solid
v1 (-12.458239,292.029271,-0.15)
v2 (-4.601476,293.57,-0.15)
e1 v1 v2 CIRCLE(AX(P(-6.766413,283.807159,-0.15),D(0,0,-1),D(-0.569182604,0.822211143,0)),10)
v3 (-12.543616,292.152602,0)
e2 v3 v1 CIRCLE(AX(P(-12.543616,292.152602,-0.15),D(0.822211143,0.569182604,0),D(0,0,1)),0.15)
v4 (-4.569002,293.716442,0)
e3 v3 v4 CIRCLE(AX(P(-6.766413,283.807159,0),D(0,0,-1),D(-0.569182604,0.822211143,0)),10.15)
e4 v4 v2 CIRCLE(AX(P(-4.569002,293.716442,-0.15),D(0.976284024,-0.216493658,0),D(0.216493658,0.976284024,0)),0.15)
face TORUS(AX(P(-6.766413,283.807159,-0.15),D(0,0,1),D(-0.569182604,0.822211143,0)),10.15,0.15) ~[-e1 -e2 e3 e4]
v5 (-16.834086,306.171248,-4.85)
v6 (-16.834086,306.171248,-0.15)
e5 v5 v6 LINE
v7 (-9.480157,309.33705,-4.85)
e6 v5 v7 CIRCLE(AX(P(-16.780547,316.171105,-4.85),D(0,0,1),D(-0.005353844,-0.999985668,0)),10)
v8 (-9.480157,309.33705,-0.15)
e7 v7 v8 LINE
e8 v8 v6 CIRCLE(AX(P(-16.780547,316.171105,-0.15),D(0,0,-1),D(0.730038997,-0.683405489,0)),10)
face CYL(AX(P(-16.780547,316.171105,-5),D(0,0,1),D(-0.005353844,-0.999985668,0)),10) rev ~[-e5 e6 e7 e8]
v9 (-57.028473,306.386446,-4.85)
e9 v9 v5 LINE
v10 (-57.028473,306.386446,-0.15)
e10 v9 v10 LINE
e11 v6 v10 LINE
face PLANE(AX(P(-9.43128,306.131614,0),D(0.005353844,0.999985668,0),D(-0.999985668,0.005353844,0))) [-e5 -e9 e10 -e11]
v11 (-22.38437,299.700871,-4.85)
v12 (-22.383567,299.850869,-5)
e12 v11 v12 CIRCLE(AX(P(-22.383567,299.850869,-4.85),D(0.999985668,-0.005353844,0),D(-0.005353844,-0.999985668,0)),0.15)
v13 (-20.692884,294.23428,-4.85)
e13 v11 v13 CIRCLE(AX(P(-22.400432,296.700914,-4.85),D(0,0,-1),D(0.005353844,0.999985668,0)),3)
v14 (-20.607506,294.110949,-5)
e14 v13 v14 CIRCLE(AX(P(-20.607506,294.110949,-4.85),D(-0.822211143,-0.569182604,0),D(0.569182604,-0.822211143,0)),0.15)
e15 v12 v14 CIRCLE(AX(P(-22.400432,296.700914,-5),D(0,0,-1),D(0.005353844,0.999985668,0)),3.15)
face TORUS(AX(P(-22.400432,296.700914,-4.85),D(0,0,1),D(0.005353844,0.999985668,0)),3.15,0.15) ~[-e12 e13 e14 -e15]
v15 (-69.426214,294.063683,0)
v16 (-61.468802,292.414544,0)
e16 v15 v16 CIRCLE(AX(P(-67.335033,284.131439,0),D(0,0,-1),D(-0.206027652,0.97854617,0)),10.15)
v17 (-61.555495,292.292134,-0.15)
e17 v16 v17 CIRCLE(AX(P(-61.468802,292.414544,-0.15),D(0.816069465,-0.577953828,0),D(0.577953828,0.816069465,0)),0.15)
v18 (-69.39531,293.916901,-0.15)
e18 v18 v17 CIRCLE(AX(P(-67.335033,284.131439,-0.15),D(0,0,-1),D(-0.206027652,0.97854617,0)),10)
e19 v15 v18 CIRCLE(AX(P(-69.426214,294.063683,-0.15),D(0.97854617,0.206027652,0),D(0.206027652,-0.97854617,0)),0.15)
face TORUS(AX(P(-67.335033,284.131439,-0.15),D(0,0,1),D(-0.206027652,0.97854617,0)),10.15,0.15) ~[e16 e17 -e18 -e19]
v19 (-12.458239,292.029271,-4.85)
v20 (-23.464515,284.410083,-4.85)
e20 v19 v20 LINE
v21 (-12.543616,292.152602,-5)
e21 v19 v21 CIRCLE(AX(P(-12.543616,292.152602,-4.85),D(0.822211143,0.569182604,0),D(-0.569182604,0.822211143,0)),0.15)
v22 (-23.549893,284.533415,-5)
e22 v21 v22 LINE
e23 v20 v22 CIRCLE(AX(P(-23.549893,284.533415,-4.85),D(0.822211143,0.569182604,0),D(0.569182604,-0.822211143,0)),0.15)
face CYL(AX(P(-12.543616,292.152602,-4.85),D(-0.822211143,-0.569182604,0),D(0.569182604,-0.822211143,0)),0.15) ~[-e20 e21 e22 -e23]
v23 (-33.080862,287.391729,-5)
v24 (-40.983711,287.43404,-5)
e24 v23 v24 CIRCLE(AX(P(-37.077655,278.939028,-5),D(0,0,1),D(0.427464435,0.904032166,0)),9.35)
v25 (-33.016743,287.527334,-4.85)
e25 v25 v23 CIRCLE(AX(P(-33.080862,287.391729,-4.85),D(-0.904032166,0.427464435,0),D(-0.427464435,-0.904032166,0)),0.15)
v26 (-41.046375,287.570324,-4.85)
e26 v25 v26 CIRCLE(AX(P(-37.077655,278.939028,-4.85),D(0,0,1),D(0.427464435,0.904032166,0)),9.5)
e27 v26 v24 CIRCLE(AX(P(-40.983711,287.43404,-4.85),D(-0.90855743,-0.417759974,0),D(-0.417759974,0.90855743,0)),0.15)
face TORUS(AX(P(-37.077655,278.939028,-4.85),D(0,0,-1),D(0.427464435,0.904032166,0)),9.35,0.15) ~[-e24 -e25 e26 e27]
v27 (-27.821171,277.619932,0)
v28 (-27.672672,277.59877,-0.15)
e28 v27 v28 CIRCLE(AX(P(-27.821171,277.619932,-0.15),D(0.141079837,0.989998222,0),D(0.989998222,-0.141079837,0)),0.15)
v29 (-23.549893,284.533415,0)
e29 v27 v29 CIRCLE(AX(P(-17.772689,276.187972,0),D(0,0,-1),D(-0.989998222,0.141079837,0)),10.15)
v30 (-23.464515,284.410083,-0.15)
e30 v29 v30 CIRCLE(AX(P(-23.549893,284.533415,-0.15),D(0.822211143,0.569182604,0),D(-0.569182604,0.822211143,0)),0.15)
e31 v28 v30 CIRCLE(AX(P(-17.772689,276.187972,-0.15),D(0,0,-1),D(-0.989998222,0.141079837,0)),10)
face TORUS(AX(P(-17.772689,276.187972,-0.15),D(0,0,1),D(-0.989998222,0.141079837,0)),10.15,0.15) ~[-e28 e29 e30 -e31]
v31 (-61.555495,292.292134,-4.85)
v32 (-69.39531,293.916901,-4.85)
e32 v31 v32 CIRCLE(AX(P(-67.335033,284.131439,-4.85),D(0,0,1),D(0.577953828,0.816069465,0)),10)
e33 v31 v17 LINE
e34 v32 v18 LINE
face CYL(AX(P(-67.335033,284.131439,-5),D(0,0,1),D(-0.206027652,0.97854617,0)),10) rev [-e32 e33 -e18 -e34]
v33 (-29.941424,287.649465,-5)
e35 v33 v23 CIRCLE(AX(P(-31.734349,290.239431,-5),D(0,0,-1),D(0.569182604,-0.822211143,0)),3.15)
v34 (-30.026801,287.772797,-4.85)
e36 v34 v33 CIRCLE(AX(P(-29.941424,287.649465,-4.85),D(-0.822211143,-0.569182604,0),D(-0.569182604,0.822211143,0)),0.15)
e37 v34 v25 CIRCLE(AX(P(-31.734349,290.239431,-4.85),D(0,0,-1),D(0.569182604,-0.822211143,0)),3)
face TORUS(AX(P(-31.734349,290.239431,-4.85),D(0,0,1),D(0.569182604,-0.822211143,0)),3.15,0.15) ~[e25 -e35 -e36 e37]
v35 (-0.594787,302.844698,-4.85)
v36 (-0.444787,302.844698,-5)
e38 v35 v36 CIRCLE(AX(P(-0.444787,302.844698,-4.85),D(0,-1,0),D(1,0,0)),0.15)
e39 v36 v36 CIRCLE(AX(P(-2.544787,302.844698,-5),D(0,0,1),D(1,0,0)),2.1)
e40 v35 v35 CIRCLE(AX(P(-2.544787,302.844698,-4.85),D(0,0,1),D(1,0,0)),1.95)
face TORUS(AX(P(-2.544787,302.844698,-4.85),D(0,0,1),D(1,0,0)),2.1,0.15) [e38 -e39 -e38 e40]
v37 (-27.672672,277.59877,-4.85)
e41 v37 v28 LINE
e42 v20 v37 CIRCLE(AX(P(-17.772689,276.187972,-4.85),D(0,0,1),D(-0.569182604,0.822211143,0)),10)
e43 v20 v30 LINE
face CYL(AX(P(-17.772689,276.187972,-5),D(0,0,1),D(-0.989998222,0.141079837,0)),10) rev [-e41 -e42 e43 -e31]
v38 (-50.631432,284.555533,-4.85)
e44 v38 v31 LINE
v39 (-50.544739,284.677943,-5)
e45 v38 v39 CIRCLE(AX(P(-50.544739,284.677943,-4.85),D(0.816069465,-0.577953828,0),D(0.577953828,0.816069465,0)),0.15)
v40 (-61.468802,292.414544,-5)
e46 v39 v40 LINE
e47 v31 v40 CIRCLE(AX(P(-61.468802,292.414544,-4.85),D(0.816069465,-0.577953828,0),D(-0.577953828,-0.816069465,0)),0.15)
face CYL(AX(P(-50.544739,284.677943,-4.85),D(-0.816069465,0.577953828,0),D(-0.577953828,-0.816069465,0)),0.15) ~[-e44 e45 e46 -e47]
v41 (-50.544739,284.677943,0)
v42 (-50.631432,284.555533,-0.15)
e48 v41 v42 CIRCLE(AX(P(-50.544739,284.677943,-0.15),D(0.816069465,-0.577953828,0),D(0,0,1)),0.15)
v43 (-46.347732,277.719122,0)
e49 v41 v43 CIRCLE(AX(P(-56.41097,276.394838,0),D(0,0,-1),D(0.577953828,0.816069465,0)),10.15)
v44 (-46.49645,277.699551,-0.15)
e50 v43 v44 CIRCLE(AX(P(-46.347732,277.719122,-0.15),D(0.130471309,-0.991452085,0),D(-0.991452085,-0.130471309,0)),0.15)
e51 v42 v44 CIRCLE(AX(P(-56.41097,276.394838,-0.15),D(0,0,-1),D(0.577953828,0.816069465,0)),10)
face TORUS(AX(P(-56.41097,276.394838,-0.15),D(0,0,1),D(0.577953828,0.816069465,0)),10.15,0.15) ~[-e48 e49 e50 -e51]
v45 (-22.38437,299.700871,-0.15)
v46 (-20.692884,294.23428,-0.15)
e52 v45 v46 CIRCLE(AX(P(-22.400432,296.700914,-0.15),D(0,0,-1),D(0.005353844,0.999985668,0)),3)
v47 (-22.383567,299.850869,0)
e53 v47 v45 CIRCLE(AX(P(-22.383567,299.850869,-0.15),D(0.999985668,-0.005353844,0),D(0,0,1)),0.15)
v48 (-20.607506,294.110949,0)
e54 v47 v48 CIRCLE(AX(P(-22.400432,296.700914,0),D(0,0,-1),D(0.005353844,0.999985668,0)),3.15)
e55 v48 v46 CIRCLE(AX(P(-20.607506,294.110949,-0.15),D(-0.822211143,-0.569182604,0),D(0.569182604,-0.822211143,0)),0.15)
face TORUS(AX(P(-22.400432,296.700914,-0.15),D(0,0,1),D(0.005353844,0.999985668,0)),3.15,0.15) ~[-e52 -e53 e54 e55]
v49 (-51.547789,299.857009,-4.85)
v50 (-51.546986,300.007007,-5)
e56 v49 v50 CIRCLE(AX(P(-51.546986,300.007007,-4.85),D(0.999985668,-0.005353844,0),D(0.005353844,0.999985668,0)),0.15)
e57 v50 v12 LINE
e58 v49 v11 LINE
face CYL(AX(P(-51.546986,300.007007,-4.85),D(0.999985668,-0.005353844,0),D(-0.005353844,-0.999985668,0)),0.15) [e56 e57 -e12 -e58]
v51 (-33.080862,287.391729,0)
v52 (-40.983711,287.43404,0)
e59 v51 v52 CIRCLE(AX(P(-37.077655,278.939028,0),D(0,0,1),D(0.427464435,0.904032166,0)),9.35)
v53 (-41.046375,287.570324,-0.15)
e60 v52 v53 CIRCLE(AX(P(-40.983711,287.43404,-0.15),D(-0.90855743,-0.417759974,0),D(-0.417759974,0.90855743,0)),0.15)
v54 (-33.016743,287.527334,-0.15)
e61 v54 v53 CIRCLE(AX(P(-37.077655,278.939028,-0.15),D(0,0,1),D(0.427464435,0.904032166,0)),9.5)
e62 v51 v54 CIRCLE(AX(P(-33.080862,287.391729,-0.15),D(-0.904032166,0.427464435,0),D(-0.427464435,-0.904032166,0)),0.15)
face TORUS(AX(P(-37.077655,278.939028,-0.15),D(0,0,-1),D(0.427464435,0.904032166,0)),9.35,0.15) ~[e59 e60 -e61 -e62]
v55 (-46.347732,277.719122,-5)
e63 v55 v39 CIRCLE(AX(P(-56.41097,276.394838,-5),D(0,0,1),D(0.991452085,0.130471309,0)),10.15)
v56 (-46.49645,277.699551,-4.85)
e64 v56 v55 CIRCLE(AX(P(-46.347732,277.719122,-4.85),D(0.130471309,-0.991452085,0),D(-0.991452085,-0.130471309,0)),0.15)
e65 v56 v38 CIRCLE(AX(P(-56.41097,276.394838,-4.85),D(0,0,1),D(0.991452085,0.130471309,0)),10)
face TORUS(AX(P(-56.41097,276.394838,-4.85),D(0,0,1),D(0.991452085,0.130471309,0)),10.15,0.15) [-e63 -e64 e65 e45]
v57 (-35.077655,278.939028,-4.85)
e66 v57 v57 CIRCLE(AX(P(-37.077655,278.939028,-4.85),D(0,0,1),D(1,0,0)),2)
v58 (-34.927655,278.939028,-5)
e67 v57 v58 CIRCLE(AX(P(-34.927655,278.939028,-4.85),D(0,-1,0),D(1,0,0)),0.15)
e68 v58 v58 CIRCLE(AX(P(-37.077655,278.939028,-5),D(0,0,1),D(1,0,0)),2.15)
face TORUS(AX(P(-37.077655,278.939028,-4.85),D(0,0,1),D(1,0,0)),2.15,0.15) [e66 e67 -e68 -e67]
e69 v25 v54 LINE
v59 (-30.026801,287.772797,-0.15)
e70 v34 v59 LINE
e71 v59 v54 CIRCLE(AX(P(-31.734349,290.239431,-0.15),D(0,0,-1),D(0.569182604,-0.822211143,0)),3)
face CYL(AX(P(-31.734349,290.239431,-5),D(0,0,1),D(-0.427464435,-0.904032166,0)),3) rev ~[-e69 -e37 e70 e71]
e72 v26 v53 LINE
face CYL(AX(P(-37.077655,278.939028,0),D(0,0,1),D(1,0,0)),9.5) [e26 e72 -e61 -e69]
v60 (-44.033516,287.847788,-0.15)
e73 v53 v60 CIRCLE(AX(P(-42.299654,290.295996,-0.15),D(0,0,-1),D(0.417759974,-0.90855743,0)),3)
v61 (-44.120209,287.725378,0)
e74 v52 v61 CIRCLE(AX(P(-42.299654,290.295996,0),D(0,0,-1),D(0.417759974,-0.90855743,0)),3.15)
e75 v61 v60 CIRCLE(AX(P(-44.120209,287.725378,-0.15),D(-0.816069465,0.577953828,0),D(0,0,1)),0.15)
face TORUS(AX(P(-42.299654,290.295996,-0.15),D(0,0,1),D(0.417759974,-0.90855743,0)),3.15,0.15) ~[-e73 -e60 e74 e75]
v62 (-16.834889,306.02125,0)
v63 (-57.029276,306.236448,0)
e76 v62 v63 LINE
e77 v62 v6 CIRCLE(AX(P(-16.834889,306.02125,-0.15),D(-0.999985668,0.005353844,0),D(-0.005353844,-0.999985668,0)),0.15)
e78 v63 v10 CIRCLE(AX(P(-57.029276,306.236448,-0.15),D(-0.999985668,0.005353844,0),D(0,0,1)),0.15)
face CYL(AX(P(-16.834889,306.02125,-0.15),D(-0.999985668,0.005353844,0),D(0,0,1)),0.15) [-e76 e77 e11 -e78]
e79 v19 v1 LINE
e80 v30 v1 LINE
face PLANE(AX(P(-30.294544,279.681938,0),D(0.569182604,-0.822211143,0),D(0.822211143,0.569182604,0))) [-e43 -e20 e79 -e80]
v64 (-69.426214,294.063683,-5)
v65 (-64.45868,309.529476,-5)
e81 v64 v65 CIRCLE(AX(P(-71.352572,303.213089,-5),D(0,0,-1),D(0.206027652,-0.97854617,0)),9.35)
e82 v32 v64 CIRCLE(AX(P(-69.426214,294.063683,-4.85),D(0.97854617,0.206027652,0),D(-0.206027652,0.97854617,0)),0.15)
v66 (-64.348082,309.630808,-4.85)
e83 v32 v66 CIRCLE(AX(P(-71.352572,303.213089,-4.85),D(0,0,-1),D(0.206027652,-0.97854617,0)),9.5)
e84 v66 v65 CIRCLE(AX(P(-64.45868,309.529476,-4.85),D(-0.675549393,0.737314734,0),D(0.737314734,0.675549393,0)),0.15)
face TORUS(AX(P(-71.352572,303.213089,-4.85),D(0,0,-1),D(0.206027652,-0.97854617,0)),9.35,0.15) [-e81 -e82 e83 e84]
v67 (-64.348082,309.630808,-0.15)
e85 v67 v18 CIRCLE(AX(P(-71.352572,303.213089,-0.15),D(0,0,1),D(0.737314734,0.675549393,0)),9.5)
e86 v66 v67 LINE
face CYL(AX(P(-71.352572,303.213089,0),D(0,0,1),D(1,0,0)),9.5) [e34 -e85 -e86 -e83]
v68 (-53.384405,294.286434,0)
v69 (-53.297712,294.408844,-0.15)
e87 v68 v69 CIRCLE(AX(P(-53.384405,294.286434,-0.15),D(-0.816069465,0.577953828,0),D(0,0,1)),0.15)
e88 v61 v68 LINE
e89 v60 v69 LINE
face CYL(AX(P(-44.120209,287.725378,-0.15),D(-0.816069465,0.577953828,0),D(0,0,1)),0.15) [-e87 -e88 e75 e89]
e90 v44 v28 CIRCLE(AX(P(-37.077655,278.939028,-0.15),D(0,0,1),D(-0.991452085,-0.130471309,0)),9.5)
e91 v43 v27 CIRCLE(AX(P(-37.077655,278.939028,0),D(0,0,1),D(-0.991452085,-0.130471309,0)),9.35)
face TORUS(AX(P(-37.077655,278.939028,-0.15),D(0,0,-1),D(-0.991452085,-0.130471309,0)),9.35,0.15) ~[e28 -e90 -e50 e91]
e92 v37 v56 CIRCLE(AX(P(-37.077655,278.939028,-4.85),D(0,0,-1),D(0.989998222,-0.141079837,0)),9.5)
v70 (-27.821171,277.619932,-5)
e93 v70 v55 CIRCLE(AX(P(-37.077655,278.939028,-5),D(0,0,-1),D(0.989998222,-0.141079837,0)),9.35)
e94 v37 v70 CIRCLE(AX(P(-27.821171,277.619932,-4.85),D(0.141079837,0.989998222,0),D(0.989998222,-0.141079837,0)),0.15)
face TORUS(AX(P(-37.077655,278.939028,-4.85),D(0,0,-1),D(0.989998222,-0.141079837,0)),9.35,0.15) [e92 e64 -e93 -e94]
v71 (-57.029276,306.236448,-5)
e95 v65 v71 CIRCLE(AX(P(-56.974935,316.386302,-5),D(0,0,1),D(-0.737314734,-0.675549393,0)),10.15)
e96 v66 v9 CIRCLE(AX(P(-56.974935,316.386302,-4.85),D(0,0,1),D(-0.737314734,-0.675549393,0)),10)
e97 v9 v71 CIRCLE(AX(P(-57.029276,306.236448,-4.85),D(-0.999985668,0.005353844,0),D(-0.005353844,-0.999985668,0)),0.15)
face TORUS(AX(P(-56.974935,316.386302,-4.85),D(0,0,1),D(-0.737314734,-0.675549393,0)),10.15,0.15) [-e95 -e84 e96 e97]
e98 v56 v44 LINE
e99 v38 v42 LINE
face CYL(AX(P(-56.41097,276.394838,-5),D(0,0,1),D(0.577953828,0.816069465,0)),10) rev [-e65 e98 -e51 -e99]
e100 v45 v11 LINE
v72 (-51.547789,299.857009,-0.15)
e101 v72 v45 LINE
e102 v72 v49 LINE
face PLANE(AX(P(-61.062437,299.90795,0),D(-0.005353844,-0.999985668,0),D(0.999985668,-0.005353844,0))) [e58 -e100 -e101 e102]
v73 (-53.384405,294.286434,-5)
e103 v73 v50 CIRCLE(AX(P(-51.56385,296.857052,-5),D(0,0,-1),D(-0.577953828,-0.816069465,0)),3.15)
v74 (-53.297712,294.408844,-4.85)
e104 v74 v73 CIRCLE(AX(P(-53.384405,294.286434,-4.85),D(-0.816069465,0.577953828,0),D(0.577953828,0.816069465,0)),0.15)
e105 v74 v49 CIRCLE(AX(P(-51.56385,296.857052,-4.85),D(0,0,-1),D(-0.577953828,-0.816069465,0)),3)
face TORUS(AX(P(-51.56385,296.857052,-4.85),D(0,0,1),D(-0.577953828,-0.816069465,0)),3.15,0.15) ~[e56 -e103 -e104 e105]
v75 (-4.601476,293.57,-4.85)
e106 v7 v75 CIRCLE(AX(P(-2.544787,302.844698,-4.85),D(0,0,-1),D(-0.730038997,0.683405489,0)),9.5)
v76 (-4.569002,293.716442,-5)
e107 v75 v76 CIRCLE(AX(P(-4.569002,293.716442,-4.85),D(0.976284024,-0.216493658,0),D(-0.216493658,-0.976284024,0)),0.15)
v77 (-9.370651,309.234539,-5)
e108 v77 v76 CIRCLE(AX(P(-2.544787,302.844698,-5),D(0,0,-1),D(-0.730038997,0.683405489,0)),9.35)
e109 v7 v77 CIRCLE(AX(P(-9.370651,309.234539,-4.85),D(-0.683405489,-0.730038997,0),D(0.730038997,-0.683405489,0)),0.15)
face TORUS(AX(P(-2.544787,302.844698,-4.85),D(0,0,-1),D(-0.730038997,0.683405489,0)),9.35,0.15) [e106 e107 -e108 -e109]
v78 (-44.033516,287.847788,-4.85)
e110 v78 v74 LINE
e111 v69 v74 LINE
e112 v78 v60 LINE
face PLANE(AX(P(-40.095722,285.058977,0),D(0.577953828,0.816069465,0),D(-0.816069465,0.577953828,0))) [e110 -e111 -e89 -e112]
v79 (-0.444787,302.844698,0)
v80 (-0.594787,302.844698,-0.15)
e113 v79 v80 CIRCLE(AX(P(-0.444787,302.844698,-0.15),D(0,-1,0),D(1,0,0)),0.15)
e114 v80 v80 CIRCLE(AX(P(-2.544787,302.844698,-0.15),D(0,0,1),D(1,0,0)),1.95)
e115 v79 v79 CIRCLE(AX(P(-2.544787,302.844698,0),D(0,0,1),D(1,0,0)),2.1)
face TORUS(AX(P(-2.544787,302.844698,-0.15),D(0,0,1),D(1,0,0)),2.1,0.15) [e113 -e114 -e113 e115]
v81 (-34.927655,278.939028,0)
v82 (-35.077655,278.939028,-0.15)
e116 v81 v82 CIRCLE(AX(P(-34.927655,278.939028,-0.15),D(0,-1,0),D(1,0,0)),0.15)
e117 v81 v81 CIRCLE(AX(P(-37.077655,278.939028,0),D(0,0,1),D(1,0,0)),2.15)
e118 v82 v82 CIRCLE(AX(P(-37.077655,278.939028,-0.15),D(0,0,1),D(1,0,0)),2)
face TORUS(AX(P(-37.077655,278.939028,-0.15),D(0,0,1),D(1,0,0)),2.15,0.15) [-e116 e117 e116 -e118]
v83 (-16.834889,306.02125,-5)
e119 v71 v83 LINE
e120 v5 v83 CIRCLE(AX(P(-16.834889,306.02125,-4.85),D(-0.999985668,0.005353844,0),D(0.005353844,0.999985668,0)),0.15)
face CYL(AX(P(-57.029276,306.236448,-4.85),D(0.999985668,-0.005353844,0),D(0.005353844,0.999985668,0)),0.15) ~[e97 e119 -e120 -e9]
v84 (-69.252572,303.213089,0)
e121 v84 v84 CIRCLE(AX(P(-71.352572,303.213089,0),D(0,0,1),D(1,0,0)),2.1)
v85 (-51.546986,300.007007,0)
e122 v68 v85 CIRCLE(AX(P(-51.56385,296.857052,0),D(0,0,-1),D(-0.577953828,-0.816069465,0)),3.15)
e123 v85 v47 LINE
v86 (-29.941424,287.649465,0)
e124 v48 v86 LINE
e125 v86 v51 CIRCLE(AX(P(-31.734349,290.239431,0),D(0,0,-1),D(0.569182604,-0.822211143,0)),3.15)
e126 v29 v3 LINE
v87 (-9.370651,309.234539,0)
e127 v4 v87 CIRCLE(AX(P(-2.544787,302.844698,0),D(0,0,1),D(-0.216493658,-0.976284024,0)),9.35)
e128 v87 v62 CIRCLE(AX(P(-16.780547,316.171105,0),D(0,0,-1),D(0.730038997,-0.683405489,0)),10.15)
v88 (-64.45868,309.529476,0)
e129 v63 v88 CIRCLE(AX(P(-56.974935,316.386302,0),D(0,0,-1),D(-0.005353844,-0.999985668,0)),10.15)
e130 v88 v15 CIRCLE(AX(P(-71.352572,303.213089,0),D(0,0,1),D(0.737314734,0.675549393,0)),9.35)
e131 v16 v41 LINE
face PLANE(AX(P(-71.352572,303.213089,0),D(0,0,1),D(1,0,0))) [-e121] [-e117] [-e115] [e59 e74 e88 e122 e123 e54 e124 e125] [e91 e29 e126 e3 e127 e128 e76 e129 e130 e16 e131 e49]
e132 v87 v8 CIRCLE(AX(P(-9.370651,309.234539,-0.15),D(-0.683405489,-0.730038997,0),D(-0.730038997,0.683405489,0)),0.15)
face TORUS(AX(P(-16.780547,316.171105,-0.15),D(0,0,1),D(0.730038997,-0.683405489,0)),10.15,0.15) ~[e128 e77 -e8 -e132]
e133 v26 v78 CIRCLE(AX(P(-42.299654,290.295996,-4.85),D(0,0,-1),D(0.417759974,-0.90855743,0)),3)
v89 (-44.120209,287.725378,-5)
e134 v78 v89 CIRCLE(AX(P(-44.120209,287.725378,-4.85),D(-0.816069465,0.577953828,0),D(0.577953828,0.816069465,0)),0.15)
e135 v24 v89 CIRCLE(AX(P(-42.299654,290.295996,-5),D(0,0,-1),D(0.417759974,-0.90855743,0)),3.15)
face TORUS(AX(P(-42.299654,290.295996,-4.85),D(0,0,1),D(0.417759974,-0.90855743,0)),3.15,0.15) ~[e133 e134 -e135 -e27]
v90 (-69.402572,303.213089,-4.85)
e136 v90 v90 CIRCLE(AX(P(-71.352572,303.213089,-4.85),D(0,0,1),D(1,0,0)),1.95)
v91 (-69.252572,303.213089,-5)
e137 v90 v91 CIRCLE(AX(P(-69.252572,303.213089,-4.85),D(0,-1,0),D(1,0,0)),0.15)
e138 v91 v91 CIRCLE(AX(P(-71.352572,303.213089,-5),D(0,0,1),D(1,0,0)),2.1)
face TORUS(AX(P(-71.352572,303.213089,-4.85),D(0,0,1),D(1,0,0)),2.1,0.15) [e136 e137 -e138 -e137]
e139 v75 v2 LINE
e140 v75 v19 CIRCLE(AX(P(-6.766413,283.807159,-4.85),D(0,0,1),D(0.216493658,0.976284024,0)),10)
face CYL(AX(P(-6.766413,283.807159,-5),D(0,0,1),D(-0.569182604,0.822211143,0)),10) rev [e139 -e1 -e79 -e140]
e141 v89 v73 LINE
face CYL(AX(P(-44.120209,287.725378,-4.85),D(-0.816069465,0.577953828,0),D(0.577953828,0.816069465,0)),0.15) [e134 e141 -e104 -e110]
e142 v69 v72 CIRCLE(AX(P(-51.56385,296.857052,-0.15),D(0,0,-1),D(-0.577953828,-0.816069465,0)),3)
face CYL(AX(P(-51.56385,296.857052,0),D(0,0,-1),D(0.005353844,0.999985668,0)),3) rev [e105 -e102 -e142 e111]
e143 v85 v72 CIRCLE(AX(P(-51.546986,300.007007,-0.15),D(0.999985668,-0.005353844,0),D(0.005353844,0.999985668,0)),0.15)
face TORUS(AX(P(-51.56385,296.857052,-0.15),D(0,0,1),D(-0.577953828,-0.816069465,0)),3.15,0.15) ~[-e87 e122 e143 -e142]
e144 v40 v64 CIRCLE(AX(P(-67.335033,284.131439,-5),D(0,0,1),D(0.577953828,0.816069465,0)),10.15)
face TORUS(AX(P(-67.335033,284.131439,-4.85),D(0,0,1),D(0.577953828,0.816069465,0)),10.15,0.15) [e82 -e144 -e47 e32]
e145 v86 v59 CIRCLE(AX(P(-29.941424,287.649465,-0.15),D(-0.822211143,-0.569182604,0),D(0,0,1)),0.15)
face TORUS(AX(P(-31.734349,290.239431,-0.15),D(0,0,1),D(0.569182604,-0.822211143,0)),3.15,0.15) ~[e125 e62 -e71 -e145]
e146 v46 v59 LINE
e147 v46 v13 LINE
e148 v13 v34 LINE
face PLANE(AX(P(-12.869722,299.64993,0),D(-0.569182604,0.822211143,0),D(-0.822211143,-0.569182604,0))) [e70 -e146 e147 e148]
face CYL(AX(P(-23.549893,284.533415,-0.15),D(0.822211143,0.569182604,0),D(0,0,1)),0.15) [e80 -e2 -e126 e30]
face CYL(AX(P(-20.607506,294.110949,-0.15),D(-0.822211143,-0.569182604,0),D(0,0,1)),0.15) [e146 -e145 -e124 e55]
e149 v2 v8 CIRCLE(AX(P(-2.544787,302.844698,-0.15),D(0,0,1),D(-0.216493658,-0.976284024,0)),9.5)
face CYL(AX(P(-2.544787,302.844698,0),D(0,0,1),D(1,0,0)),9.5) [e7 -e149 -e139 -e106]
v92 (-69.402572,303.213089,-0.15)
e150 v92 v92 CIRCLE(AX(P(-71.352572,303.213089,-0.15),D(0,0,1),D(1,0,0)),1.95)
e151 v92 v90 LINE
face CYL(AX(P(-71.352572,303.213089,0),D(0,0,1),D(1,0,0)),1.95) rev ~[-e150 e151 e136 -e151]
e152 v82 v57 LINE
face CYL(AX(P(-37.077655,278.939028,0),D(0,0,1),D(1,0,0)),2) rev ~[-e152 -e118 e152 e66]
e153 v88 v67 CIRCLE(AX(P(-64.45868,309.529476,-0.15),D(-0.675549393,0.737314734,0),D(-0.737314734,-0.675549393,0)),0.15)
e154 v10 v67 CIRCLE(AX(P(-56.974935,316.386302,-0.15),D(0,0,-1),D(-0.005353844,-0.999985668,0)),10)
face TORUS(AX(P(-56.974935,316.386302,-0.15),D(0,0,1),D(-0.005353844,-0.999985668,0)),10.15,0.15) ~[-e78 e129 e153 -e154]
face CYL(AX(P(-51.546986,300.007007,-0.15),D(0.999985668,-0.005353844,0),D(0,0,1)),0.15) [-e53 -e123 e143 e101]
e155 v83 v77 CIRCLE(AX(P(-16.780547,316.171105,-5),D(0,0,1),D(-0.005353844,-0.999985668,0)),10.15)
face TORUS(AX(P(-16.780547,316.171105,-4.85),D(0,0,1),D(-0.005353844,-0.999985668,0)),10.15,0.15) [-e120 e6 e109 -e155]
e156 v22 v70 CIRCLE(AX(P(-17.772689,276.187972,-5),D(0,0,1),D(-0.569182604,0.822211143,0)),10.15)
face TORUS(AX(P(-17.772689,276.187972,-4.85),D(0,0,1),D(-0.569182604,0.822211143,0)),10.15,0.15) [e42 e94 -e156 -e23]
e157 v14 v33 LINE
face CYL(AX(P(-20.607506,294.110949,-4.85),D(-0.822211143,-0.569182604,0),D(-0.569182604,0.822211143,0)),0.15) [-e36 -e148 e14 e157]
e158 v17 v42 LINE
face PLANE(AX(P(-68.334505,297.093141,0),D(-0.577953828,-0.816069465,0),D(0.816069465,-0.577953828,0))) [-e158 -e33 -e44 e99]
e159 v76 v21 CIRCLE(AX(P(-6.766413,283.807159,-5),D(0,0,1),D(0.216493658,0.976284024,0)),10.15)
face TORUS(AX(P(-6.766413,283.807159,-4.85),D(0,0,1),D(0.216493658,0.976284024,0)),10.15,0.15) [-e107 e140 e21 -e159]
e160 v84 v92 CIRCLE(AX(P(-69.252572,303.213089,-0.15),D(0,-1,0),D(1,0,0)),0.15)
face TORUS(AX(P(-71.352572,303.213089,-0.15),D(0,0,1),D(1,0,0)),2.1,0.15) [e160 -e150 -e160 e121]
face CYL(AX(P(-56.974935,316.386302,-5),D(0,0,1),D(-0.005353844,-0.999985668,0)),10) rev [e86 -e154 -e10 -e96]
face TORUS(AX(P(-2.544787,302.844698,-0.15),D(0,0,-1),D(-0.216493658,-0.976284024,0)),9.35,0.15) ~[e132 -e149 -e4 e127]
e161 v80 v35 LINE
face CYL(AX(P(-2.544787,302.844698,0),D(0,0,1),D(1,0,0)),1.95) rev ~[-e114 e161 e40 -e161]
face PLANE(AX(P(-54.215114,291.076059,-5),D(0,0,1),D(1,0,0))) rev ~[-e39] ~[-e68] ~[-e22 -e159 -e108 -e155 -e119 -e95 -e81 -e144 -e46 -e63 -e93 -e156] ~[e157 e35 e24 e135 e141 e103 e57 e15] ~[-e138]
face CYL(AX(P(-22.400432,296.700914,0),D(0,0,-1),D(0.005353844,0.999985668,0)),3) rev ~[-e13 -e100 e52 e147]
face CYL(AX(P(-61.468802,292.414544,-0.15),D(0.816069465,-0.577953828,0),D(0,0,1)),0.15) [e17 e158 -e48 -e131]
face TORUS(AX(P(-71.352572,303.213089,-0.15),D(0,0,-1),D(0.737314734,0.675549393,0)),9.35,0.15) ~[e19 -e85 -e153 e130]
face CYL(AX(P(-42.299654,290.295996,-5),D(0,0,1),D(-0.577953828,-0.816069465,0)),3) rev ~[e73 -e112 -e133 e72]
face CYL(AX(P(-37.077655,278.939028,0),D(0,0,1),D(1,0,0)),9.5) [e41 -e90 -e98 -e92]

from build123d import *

# Parameters (mm, degrees)
SKETCH1_R             = 9.5
SKETCH1_R_2           = 1.95
BOSS_EXTRUDE1_DEPTH   = 5
SKETCH1_R_3           = 2
BOSS_EXTRUDE1_2_DEPTH = 5
BOSS_EXTRUDE1_3_DEPTH = 5
EXTRUDE_THIN1_DEPTH   = 5
FILLET1_R             = 3
FILLET2_R             = 10
FILLET3_R             = 0.15


with BuildPart() as part:
    # Sketch1 → Boss-Extrude1 (new body)
    with BuildSketch(Plane.XY):
        with Locations((-71.352572296, 303.213089234)):
            Circle(SKETCH1_R)
        with Locations((-71.352572296, 303.213089234)):
            Circle(SKETCH1_R_2, mode=Mode.SUBTRACT)
    extrude(amount=-BOSS_EXTRUDE1_DEPTH)



with BuildPart() as body_2:
    # Sketch1 → Boss-Extrude1 2 (new body)
    with BuildSketch(Plane.XY):
        with Locations((-37.077654746, 278.93902845)):
            Circle(SKETCH1_R)
        with Locations((-37.077654746, 278.93902845)):
            Circle(SKETCH1_R_3, mode=Mode.SUBTRACT)
    extrude(amount=-BOSS_EXTRUDE1_2_DEPTH)


with BuildPart() as body_3:
    # Sketch1 → Boss-Extrude1 3 (new body)
    with BuildSketch(Plane.XY):
        with Locations((-2.544786738, 302.844697802)):
            Circle(SKETCH1_R)
        with Locations((-2.544786738, 302.844697802)):
            Circle(SKETCH1_R_2, mode=Mode.SUBTRACT)
    extrude(amount=-BOSS_EXTRUDE1_3_DEPTH)


with BuildPart() as part_1:
    add(part.part)

    add(body_2.part)  # Extrude-Thin1 merges body 2

    add(body_3.part)  # Extrude-Thin1 merges body 3
    # Sketch2 → Extrude-Thin1 (add)
    with BuildSketch(Plane.XY):
        Polygon((-68.334505444, 297.093140502), (-43.85242148, 279.754525657), (-40.095721597, 285.058977182), (-64.577805561, 302.397592028), align=None)
        Polygon((-64.46607951, 299.926172918), (-9.46607951, 299.631707276), (-9.431279524, 306.131614118), (-64.431279524, 306.42607976), align=None)
        Polygon((-9.327897058, 302.101788395), (-33.994231349, 285.026310287), (-30.294544426, 279.681937857), (-5.628210134, 296.757415965), align=None)
    extrude(amount=-EXTRUDE_THIN1_DEPTH)

    # Fillet1
    fillet1_edges = [part_1.edges().sort_by_distance(p)[0] for p in [
        (-42.484181905, 286.750524087, -2.5),
        (-61.06243691, 299.907950085, -2.5),
        (-12.86972211, 299.649930108, -2.5),
        (-31.587795668, 286.692185698, -2.5),
    ]]
    fillet(fillet1_edges, radius=FILLET1_R)

    # Fillet2
    fillet2_edges = [part_1.edges().sort_by_distance(p)[0] for p in [
        (-65.946045137, 295.401593597, -2.5),
        (-46.240881788, 281.446072561, -2.5),
        (-62.408514705, 306.415250038, -2.5),
        (-11.454044342, 306.142443841, -2.5),
        (-8.034645815, 295.091540554, -2.5),
        (-27.888108745, 281.347813269, -2.5),
    ]]
    fillet(fillet2_edges, radius=FILLET2_R)

    # Fillet3
    fillet3_edges = [part_1.edges().sort_by_distance(p)[0] for p in [
        (-48.665613897, 291.128315972, -5),
        (-48.665613897, 291.128315972, 0),
        (-36.96607951, 299.778940097, 0),
        (-36.96607951, 299.778940097, -5),
        (-25.359842683, 291.003538719, -5),
        (-25.359842683, 291.003538719, 0),
        (-37.026793227, 288.438892297, -5),
        (-37.026793227, 288.438892297, 0),
        (-54.420130451, 297.774475034, 0),
        (-54.420130451, 297.774475034, -5),
        (-19.534492041, 297.58770009, -5),
        (-19.534492041, 297.58770009, 0),
        (-31.488886236, 287.249489404, 0),
        (-31.488886236, 287.249489404, -5),
        (-42.577118318, 287.30885492, -5),
        (-42.577118318, 287.30885492, 0),
        (-37.128516264, 269.439164604, -5),
        (-37.128516264, 269.439164604, 0),
        (-56.093463462, 288.423833079, 0),
        (-56.093463462, 288.423833079, -5),
        (-80.397459123, 306.118260879, 0),
        (-80.397459123, 306.118260879, -5),
        (-17.96137728, 288.219676911, -5),
        (-17.96137728, 288.219676911, 0),
        (6.530688796, 305.652854463, 0),
        (6.530688796, 305.652854463, -5),
        (-36.931279524, 306.278846939, 0),
        (-36.931279524, 306.278846939, -5),
        (-47.847852179, 281.559429504, -5),
        (-47.847852179, 281.559429504, 0),
        (-65.305699691, 293.923364473, -5),
        (-65.305699691, 293.923364473, 0),
        (-26.280016704, 281.443957022, 0),
        (-26.280016704, 281.443957022, -5),
        (-8.690782741, 293.620252694, -5),
        (-8.690782741, 293.620252694, 0),
        (-12.826462016, 306.986051191, -5),
        (-12.826462016, 306.986051191, 0),
        (-61.027142753, 307.244113816, -5),
        (-61.027142753, 307.244113816, 0),
        (-39.077654746, 278.93902845, -5),
        (-39.077654746, 278.93902845, 0),
        (-73.302572296, 303.213089234, -5),
        (-73.302572296, 303.213089234, 0),
        (-4.494786738, 302.844697802, -5),
        (-4.494786738, 302.844697802, 0),
    ]]
    fillet(fillet3_edges, radius=FILLET3_R)


solid = part_1.part
